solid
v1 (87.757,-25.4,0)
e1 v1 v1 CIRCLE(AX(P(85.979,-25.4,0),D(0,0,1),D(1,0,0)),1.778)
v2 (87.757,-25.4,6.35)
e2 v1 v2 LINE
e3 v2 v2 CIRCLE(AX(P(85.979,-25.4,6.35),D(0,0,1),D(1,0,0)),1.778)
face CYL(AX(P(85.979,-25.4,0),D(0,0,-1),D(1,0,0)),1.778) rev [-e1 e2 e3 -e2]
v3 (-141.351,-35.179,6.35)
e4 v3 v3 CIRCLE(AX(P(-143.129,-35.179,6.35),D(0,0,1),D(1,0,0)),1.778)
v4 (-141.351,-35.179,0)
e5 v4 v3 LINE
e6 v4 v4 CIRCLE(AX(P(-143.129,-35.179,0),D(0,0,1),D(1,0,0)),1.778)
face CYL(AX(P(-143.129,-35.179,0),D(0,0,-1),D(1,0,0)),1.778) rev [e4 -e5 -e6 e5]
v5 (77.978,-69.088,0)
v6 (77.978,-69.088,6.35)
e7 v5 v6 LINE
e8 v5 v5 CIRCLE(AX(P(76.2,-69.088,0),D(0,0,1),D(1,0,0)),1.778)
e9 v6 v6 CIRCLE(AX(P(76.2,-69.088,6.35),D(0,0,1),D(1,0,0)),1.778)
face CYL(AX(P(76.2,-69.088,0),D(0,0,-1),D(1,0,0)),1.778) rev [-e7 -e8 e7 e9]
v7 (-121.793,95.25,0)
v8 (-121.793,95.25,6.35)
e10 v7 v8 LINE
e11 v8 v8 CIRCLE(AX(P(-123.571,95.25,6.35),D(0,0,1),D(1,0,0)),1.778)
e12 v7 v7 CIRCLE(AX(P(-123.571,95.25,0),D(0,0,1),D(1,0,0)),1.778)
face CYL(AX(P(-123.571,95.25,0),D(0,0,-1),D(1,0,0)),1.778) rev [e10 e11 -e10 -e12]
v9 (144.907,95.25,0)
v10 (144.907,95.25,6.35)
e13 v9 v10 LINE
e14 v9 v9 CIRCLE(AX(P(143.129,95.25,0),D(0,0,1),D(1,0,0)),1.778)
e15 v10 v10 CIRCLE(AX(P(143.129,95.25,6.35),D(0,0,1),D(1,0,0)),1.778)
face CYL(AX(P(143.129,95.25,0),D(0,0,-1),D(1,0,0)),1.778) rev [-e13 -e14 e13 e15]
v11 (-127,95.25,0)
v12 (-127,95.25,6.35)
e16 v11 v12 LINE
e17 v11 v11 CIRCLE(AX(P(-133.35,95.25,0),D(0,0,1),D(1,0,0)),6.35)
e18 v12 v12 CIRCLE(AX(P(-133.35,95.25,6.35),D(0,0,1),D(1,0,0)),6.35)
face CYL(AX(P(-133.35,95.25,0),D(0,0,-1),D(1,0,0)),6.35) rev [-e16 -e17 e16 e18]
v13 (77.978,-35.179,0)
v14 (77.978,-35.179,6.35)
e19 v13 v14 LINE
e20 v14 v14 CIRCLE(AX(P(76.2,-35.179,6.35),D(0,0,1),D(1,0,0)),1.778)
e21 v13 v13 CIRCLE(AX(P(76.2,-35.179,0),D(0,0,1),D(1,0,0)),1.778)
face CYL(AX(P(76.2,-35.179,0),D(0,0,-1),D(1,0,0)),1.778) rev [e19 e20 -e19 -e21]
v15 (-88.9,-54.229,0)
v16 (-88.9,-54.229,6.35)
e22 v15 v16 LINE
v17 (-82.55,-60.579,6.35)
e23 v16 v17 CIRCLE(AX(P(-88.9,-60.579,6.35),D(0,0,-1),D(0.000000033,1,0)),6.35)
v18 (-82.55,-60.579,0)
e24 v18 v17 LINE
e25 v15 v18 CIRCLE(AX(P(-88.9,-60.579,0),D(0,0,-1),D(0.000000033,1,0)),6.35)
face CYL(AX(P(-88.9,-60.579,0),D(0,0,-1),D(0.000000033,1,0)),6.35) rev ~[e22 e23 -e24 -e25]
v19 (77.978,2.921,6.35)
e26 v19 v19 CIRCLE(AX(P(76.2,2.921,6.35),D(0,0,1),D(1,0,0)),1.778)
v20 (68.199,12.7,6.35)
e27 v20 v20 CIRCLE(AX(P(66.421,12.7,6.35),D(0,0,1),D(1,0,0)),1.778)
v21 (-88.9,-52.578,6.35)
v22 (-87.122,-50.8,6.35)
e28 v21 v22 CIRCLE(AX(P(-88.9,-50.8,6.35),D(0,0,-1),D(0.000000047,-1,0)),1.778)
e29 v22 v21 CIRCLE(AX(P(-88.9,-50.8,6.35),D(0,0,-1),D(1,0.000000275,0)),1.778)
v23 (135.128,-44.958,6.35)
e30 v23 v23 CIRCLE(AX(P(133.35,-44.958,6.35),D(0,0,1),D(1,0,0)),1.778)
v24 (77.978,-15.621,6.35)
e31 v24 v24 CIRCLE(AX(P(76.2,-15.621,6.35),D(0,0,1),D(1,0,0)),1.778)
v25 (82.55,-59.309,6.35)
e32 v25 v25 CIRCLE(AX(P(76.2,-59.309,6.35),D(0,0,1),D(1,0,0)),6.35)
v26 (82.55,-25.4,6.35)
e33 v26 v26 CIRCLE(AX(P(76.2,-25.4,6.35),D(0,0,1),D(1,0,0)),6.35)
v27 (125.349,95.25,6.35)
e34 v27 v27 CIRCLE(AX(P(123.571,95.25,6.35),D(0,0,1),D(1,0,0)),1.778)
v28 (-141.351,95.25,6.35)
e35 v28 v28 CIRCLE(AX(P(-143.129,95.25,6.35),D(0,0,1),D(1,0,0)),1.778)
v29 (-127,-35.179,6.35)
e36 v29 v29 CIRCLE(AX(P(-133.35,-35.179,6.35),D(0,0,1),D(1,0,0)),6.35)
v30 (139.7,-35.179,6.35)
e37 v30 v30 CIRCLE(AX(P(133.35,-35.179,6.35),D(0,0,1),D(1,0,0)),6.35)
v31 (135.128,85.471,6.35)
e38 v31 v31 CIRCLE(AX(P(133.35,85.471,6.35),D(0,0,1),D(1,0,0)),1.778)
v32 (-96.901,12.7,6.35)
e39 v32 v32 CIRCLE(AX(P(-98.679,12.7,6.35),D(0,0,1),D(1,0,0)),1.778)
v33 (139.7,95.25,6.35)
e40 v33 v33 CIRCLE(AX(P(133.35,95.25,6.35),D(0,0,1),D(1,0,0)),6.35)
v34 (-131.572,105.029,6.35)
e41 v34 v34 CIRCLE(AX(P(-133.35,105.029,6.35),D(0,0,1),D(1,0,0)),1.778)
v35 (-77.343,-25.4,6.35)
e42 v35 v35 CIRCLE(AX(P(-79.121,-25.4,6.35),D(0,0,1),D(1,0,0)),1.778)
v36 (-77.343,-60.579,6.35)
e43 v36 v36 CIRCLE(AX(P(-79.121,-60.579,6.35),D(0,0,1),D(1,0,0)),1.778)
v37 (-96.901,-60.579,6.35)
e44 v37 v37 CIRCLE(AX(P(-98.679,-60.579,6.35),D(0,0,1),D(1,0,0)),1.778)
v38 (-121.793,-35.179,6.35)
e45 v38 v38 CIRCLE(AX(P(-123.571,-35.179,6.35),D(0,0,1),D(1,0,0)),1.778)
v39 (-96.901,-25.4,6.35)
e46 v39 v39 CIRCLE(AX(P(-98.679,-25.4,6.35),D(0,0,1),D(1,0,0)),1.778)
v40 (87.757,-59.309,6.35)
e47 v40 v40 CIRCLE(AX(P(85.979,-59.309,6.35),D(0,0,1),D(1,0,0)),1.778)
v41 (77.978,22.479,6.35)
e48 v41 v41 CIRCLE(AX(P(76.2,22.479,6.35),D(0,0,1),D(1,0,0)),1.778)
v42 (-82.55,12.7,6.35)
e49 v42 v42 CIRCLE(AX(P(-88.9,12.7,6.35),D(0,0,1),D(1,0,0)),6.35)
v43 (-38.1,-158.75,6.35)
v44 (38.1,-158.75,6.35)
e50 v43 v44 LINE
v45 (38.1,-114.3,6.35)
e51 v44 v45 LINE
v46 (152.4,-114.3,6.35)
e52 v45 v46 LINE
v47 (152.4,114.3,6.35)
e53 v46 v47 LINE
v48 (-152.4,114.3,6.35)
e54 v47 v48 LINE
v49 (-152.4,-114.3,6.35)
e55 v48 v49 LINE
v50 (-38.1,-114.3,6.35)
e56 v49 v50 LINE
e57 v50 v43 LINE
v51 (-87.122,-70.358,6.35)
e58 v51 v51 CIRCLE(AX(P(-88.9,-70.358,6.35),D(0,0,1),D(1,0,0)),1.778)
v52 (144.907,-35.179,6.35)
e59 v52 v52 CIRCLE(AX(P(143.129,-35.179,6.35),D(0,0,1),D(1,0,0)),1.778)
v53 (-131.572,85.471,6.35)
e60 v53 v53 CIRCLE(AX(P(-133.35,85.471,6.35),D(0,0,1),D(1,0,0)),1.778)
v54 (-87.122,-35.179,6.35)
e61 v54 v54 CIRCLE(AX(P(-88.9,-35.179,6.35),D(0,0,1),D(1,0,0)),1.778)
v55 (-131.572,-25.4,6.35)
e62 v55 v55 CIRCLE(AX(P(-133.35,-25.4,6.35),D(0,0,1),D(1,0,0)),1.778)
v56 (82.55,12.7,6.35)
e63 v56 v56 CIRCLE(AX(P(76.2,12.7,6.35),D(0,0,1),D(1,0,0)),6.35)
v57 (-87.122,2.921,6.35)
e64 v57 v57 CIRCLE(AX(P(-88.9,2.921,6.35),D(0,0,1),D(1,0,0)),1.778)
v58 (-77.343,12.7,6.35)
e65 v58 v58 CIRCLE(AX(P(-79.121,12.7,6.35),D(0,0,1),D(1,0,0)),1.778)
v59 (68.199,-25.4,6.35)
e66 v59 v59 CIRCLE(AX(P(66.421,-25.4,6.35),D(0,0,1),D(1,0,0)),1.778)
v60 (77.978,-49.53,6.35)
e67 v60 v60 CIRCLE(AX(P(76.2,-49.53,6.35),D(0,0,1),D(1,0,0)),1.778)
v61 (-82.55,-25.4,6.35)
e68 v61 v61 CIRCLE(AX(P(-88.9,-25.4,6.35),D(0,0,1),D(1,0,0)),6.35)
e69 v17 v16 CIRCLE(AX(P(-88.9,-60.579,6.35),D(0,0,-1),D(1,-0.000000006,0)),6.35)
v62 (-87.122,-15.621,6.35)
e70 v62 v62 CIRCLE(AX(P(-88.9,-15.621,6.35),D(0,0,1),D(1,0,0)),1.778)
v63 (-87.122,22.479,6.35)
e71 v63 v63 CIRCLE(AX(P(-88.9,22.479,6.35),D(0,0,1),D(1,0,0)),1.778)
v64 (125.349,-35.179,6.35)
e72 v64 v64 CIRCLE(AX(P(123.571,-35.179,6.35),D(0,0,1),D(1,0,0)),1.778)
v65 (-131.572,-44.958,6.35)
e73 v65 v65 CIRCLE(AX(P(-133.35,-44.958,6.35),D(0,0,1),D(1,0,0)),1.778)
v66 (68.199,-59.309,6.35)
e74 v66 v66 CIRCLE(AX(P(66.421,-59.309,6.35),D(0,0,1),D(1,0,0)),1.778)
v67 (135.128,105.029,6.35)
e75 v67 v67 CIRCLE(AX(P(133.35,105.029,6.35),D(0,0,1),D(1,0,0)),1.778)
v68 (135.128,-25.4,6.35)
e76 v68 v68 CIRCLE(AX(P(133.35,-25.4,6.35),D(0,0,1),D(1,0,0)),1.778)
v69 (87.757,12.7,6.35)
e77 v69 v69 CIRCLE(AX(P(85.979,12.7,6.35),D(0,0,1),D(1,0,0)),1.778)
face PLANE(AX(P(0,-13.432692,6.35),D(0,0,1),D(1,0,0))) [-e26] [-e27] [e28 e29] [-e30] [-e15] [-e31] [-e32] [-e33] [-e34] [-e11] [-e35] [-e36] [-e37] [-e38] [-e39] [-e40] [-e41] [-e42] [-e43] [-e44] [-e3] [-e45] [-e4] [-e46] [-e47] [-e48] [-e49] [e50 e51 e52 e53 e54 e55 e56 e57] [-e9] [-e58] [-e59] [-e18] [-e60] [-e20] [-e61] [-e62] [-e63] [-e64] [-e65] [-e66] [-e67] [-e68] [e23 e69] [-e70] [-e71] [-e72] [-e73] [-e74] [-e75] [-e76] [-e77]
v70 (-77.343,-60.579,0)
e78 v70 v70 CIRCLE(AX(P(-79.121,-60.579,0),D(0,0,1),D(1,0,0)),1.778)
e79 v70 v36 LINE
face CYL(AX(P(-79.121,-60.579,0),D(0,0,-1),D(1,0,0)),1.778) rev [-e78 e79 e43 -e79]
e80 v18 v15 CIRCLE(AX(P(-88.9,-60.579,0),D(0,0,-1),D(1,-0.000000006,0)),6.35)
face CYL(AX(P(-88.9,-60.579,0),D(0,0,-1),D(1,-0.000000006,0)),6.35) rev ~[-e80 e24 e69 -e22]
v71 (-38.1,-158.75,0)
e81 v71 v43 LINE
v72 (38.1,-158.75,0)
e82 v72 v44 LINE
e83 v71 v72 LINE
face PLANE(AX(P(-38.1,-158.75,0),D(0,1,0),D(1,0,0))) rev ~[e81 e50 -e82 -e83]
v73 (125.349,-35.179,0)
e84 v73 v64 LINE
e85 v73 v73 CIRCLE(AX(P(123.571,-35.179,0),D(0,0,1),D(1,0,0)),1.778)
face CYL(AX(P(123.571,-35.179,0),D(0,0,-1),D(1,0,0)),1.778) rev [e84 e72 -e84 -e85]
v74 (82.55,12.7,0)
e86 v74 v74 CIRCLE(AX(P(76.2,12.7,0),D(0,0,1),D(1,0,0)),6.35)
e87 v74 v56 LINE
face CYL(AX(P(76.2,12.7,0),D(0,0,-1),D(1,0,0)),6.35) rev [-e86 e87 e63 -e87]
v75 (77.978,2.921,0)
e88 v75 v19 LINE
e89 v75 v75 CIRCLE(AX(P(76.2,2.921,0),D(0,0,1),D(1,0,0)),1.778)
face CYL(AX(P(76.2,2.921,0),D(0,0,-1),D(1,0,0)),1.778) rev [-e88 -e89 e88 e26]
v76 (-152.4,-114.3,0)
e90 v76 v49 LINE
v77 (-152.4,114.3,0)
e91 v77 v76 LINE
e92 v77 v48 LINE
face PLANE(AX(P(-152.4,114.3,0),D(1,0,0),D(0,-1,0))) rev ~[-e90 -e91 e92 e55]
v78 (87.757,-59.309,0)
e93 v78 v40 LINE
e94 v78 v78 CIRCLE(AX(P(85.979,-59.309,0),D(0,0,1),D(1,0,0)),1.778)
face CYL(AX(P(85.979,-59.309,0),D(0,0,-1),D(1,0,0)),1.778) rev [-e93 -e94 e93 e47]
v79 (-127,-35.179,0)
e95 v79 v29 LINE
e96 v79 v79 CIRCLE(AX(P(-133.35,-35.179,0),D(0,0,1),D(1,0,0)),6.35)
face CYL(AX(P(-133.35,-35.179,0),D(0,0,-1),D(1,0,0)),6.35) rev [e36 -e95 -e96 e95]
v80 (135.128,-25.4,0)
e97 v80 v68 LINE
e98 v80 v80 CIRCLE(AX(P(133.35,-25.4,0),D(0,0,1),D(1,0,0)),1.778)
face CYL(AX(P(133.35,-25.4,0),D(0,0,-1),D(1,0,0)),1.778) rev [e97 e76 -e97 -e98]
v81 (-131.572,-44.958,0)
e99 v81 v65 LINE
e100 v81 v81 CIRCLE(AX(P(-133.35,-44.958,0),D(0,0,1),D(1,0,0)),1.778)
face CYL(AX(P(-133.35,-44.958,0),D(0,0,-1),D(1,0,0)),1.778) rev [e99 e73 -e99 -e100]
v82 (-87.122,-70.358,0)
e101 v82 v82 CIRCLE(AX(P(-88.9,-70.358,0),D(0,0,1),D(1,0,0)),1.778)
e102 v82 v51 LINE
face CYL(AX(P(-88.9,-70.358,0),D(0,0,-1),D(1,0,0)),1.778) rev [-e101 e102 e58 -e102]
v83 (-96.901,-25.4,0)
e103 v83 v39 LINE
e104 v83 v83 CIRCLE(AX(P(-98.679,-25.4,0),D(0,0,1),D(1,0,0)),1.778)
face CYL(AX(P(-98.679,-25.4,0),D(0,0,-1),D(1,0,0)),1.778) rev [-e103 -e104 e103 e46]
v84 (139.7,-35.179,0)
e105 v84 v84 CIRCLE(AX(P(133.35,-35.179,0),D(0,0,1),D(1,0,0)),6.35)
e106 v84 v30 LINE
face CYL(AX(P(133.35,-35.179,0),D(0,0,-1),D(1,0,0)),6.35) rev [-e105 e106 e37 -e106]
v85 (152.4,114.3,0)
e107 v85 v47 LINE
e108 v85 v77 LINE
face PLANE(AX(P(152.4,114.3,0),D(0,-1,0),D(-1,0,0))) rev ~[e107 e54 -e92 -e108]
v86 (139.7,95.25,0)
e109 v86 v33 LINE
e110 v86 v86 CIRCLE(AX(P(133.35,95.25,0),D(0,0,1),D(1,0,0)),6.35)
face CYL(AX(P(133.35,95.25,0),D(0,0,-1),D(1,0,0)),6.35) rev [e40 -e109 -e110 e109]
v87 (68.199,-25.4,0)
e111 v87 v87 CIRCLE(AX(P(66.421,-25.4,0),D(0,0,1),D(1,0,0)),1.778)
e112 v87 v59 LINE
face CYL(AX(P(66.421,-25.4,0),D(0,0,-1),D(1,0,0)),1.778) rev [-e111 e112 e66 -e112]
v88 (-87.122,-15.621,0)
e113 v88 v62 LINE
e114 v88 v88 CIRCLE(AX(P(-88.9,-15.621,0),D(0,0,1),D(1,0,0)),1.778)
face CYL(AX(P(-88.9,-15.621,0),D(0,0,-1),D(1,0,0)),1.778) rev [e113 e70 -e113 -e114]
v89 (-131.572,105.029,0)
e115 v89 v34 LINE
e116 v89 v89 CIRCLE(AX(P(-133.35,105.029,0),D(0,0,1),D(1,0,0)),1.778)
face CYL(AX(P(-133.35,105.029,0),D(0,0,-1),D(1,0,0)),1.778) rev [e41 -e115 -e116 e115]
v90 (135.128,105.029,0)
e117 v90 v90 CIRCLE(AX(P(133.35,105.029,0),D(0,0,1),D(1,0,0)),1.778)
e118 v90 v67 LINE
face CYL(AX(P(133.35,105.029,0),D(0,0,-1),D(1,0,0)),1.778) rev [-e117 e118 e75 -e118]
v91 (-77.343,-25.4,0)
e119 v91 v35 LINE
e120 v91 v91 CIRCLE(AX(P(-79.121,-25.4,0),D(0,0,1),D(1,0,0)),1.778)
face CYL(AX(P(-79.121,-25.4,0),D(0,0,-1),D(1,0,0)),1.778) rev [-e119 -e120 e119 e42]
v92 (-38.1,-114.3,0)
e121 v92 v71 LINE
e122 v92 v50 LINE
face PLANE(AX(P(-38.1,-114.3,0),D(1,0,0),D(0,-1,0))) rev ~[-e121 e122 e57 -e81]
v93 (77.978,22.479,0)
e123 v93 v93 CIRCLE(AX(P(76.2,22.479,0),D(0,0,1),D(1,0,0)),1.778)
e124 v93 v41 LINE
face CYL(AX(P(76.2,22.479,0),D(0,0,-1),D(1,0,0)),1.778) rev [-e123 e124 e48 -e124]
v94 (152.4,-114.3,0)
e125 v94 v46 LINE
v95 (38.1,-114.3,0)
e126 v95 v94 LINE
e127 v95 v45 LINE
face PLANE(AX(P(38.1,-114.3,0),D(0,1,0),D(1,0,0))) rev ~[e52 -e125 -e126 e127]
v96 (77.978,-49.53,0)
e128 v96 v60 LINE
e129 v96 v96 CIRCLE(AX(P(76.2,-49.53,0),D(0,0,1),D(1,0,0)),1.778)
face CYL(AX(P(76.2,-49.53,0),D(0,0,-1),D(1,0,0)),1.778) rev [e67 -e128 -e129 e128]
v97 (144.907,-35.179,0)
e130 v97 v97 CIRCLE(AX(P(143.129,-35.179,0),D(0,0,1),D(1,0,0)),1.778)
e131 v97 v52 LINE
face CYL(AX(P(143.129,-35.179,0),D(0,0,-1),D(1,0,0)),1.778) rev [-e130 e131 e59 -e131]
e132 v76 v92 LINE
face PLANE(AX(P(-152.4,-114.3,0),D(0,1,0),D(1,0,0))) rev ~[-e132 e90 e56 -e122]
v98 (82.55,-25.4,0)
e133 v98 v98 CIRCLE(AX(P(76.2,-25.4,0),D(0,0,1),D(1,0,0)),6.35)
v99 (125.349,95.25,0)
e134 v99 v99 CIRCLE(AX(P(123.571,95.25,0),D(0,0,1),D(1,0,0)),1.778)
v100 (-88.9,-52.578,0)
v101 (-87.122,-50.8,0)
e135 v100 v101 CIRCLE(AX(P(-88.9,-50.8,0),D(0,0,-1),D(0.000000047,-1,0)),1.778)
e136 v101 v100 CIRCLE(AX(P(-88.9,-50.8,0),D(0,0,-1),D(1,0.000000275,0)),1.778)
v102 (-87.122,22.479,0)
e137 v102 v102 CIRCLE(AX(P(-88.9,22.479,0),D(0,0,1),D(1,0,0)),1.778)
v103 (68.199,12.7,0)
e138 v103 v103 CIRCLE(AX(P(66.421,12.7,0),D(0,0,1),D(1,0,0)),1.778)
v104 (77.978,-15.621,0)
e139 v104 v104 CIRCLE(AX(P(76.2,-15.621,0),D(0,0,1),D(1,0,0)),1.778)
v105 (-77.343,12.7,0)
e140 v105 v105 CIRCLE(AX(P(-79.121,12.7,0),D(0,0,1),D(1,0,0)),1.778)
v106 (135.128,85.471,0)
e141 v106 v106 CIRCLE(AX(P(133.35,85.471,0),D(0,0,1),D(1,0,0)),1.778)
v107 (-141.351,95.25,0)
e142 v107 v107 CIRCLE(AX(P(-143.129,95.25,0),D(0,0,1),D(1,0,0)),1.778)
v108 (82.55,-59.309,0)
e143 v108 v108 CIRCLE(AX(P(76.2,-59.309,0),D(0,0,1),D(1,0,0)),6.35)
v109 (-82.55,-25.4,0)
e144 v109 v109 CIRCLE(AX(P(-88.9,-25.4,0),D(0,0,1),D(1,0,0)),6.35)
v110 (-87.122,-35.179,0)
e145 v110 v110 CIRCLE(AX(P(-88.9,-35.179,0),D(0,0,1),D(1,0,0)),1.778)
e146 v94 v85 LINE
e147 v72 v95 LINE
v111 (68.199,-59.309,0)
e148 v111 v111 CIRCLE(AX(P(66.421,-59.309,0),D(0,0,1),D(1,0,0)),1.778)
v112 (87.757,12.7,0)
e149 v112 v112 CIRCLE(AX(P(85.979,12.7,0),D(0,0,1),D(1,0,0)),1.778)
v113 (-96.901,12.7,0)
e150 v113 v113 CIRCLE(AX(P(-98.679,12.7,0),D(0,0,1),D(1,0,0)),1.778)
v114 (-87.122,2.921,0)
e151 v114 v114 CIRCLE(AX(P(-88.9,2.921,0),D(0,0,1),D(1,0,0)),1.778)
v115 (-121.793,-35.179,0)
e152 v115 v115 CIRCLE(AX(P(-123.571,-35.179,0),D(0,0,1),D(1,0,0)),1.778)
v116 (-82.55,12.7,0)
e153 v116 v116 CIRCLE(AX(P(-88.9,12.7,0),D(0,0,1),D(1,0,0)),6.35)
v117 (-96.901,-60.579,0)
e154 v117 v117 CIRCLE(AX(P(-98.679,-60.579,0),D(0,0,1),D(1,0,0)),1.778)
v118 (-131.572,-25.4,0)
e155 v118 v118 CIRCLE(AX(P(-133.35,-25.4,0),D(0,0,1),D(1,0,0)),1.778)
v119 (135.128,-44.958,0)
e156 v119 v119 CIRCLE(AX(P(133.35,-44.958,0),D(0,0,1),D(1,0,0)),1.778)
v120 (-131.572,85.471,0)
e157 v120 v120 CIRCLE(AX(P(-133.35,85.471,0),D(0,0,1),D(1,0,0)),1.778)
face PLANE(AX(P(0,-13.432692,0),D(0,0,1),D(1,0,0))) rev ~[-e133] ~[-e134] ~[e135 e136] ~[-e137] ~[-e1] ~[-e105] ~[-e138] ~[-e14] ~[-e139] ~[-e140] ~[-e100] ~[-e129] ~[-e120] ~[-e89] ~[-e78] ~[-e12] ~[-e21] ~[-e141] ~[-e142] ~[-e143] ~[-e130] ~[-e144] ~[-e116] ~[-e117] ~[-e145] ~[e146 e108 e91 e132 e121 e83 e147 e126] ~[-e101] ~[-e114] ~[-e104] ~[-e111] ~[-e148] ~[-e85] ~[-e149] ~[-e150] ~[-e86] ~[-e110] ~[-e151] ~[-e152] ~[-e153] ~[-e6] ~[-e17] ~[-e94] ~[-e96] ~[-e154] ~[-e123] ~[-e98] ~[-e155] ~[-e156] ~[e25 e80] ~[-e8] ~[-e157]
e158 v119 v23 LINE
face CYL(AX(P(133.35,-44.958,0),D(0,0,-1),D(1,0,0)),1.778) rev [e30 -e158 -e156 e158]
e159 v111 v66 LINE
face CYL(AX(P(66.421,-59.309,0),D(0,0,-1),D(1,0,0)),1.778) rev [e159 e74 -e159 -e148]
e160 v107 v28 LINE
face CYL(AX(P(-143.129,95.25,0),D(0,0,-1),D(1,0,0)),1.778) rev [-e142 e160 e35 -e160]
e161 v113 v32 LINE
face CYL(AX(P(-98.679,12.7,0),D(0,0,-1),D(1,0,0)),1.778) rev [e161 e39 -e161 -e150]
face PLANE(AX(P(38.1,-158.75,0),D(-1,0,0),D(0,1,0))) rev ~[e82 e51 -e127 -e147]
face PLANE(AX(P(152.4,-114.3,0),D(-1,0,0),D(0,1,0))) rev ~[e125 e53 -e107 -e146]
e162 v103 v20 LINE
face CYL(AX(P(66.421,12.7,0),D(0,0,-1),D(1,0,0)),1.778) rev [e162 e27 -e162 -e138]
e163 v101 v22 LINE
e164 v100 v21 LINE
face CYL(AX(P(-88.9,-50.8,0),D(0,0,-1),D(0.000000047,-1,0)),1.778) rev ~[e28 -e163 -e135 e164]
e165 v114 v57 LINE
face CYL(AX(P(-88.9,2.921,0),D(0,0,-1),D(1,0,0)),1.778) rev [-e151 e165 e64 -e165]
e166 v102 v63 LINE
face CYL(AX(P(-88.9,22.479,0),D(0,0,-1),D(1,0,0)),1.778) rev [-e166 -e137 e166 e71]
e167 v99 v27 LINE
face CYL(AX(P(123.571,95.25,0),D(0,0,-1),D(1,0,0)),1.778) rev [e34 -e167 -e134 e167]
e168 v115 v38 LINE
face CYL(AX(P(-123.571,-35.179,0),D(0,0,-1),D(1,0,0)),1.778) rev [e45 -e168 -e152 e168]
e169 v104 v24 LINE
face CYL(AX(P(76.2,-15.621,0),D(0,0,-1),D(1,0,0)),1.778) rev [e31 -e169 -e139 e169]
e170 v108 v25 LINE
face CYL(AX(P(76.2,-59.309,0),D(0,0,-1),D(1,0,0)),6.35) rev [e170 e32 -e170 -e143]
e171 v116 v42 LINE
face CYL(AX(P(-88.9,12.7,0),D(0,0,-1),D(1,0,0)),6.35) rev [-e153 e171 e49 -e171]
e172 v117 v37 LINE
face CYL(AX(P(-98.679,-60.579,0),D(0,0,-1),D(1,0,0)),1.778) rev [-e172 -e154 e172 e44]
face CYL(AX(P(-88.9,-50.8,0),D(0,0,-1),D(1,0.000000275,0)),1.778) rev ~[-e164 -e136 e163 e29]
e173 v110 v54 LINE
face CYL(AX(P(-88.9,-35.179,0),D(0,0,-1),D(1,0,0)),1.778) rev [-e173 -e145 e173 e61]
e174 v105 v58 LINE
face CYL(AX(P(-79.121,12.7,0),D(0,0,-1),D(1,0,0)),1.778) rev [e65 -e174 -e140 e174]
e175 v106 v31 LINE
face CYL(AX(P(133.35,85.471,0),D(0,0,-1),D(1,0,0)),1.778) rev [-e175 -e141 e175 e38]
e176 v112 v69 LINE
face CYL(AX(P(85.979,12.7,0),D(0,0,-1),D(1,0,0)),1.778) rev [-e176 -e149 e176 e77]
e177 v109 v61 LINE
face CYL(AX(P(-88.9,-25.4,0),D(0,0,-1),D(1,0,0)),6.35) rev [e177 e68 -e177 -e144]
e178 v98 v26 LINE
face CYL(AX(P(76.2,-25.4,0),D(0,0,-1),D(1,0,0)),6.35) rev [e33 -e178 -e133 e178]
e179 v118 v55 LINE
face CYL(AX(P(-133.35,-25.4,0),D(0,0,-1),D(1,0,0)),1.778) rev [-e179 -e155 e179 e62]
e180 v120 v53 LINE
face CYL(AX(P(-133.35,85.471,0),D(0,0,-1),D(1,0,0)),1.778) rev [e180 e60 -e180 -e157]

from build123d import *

# Parameters (mm, degrees)
F0_R     = 1.778
F0_R_2   = 6.35
F1_DEPTH = 6.35


with BuildPart() as f1:
    # F0 (on Top) → F1 (new body)
    with BuildSketch(Plane.XY):
        Polygon((152.4, 114.3), (-152.4, 114.3), (-152.4, -114.3), (-38.1, -114.3), (-38.1, -158.75), (38.1, -158.75), (38.1, -114.3), (152.4, -114.3), align=None)
        with Locations((-98.679, -60.579)):
            Circle(F0_R, mode=Mode.SUBTRACT)
        with Locations((-88.9, -70.358)):
            Circle(F0_R, mode=Mode.SUBTRACT)
        with BuildLine():
            ThreePointArc((-82.55, -60.579), (-93.390128, -65.069128), (-88.9, -54.229))
            ThreePointArc((-88.9, -54.229), (-84.409872, -56.088872), (-82.55, -60.579))
        make_face(mode=Mode.SUBTRACT)
        with Locations((-79.121, -60.579)):
            Circle(F0_R, mode=Mode.SUBTRACT)
        with Locations((-133.35, -44.958)):
            Circle(F0_R, mode=Mode.SUBTRACT)
        with Locations((-143.129, -35.179)):
            Circle(F0_R, mode=Mode.SUBTRACT)
        with Locations((-133.35, -35.179)):
            Circle(F0_R_2, mode=Mode.SUBTRACT)
        with Locations((-123.571, -35.179)):
            Circle(F0_R, mode=Mode.SUBTRACT)
        with Locations((-133.35, -25.4)):
            Circle(F0_R, mode=Mode.SUBTRACT)
        with BuildLine():
            ThreePointArc((-88.9, -52.578), (-90.157236, -49.542764), (-87.122, -50.8))
            ThreePointArc((-87.122, -50.8), (-87.642764, -52.057236), (-88.9, -52.578))
        make_face(mode=Mode.SUBTRACT)
        with Locations((-98.679, -25.4)):
            Circle(F0_R, mode=Mode.SUBTRACT)
        with Locations((-88.9, -35.179)):
            Circle(F0_R, mode=Mode.SUBTRACT)
        with Locations((-88.9, -25.4)):
            Circle(F0_R_2, mode=Mode.SUBTRACT)
        with Locations((-79.121, -25.4)):
            Circle(F0_R, mode=Mode.SUBTRACT)
        with Locations((66.421, -59.309)):
            Circle(F0_R, mode=Mode.SUBTRACT)
        with Locations((66.421, -25.4)):
            Circle(F0_R, mode=Mode.SUBTRACT)
        with Locations((76.2, -69.088)):
            Circle(F0_R, mode=Mode.SUBTRACT)
        with Locations((76.2, -59.309)):
            Circle(F0_R_2, mode=Mode.SUBTRACT)
        with Locations((85.979, -59.309)):
            Circle(F0_R, mode=Mode.SUBTRACT)
        with Locations((76.2, -49.53)):
            Circle(F0_R, mode=Mode.SUBTRACT)
        with Locations((76.2, -35.179)):
            Circle(F0_R, mode=Mode.SUBTRACT)
        with Locations((76.2, -25.4)):
            Circle(F0_R_2, mode=Mode.SUBTRACT)
        with Locations((85.979, -25.4)):
            Circle(F0_R, mode=Mode.SUBTRACT)
        with Locations((133.35, -44.958)):
            Circle(F0_R, mode=Mode.SUBTRACT)
        with Locations((123.571, -35.179)):
            Circle(F0_R, mode=Mode.SUBTRACT)
        with Locations((133.35, -35.179)):
            Circle(F0_R_2, mode=Mode.SUBTRACT)
        with Locations((143.129, -35.179)):
            Circle(F0_R, mode=Mode.SUBTRACT)
        with Locations((133.35, -25.4)):
            Circle(F0_R, mode=Mode.SUBTRACT)
        with Locations((-88.9, -15.621)):
            Circle(F0_R, mode=Mode.SUBTRACT)
        with Locations((-88.9, 2.921)):
            Circle(F0_R, mode=Mode.SUBTRACT)
        with Locations((-98.679, 12.7)):
            Circle(F0_R, mode=Mode.SUBTRACT)
        with Locations((-88.9, 12.7)):
            Circle(F0_R_2, mode=Mode.SUBTRACT)
        with Locations((-79.121, 12.7)):
            Circle(F0_R, mode=Mode.SUBTRACT)
        with Locations((-88.9, 22.479)):
            Circle(F0_R, mode=Mode.SUBTRACT)
        with Locations((-143.129, 95.25)):
            Circle(F0_R, mode=Mode.SUBTRACT)
        with Locations((-133.35, 85.471)):
            Circle(F0_R, mode=Mode.SUBTRACT)
        with Locations((-133.35, 95.25)):
            Circle(F0_R_2, mode=Mode.SUBTRACT)
        with Locations((-123.571, 95.25)):
            Circle(F0_R, mode=Mode.SUBTRACT)
        with Locations((-133.35, 105.029)):
            Circle(F0_R, mode=Mode.SUBTRACT)
        with Locations((66.421, 12.7)):
            Circle(F0_R, mode=Mode.SUBTRACT)
        with Locations((76.2, -15.621)):
            Circle(F0_R, mode=Mode.SUBTRACT)
        with Locations((76.2, 2.921)):
            Circle(F0_R, mode=Mode.SUBTRACT)
        with Locations((76.2, 12.7)):
            Circle(F0_R_2, mode=Mode.SUBTRACT)
        with Locations((85.979, 12.7)):
            Circle(F0_R, mode=Mode.SUBTRACT)
        with Locations((76.2, 22.479)):
            Circle(F0_R, mode=Mode.SUBTRACT)
        with Locations((123.571, 95.25)):
            Circle(F0_R, mode=Mode.SUBTRACT)
        with Locations((133.35, 85.471)):
            Circle(F0_R, mode=Mode.SUBTRACT)
        with Locations((133.35, 95.25)):
            Circle(F0_R_2, mode=Mode.SUBTRACT)
        with Locations((143.129, 95.25)):
            Circle(F0_R, mode=Mode.SUBTRACT)
        with Locations((133.35, 105.029)):
            Circle(F0_R, mode=Mode.SUBTRACT)
    extrude(amount=F1_DEPTH)


solid = f1.part
